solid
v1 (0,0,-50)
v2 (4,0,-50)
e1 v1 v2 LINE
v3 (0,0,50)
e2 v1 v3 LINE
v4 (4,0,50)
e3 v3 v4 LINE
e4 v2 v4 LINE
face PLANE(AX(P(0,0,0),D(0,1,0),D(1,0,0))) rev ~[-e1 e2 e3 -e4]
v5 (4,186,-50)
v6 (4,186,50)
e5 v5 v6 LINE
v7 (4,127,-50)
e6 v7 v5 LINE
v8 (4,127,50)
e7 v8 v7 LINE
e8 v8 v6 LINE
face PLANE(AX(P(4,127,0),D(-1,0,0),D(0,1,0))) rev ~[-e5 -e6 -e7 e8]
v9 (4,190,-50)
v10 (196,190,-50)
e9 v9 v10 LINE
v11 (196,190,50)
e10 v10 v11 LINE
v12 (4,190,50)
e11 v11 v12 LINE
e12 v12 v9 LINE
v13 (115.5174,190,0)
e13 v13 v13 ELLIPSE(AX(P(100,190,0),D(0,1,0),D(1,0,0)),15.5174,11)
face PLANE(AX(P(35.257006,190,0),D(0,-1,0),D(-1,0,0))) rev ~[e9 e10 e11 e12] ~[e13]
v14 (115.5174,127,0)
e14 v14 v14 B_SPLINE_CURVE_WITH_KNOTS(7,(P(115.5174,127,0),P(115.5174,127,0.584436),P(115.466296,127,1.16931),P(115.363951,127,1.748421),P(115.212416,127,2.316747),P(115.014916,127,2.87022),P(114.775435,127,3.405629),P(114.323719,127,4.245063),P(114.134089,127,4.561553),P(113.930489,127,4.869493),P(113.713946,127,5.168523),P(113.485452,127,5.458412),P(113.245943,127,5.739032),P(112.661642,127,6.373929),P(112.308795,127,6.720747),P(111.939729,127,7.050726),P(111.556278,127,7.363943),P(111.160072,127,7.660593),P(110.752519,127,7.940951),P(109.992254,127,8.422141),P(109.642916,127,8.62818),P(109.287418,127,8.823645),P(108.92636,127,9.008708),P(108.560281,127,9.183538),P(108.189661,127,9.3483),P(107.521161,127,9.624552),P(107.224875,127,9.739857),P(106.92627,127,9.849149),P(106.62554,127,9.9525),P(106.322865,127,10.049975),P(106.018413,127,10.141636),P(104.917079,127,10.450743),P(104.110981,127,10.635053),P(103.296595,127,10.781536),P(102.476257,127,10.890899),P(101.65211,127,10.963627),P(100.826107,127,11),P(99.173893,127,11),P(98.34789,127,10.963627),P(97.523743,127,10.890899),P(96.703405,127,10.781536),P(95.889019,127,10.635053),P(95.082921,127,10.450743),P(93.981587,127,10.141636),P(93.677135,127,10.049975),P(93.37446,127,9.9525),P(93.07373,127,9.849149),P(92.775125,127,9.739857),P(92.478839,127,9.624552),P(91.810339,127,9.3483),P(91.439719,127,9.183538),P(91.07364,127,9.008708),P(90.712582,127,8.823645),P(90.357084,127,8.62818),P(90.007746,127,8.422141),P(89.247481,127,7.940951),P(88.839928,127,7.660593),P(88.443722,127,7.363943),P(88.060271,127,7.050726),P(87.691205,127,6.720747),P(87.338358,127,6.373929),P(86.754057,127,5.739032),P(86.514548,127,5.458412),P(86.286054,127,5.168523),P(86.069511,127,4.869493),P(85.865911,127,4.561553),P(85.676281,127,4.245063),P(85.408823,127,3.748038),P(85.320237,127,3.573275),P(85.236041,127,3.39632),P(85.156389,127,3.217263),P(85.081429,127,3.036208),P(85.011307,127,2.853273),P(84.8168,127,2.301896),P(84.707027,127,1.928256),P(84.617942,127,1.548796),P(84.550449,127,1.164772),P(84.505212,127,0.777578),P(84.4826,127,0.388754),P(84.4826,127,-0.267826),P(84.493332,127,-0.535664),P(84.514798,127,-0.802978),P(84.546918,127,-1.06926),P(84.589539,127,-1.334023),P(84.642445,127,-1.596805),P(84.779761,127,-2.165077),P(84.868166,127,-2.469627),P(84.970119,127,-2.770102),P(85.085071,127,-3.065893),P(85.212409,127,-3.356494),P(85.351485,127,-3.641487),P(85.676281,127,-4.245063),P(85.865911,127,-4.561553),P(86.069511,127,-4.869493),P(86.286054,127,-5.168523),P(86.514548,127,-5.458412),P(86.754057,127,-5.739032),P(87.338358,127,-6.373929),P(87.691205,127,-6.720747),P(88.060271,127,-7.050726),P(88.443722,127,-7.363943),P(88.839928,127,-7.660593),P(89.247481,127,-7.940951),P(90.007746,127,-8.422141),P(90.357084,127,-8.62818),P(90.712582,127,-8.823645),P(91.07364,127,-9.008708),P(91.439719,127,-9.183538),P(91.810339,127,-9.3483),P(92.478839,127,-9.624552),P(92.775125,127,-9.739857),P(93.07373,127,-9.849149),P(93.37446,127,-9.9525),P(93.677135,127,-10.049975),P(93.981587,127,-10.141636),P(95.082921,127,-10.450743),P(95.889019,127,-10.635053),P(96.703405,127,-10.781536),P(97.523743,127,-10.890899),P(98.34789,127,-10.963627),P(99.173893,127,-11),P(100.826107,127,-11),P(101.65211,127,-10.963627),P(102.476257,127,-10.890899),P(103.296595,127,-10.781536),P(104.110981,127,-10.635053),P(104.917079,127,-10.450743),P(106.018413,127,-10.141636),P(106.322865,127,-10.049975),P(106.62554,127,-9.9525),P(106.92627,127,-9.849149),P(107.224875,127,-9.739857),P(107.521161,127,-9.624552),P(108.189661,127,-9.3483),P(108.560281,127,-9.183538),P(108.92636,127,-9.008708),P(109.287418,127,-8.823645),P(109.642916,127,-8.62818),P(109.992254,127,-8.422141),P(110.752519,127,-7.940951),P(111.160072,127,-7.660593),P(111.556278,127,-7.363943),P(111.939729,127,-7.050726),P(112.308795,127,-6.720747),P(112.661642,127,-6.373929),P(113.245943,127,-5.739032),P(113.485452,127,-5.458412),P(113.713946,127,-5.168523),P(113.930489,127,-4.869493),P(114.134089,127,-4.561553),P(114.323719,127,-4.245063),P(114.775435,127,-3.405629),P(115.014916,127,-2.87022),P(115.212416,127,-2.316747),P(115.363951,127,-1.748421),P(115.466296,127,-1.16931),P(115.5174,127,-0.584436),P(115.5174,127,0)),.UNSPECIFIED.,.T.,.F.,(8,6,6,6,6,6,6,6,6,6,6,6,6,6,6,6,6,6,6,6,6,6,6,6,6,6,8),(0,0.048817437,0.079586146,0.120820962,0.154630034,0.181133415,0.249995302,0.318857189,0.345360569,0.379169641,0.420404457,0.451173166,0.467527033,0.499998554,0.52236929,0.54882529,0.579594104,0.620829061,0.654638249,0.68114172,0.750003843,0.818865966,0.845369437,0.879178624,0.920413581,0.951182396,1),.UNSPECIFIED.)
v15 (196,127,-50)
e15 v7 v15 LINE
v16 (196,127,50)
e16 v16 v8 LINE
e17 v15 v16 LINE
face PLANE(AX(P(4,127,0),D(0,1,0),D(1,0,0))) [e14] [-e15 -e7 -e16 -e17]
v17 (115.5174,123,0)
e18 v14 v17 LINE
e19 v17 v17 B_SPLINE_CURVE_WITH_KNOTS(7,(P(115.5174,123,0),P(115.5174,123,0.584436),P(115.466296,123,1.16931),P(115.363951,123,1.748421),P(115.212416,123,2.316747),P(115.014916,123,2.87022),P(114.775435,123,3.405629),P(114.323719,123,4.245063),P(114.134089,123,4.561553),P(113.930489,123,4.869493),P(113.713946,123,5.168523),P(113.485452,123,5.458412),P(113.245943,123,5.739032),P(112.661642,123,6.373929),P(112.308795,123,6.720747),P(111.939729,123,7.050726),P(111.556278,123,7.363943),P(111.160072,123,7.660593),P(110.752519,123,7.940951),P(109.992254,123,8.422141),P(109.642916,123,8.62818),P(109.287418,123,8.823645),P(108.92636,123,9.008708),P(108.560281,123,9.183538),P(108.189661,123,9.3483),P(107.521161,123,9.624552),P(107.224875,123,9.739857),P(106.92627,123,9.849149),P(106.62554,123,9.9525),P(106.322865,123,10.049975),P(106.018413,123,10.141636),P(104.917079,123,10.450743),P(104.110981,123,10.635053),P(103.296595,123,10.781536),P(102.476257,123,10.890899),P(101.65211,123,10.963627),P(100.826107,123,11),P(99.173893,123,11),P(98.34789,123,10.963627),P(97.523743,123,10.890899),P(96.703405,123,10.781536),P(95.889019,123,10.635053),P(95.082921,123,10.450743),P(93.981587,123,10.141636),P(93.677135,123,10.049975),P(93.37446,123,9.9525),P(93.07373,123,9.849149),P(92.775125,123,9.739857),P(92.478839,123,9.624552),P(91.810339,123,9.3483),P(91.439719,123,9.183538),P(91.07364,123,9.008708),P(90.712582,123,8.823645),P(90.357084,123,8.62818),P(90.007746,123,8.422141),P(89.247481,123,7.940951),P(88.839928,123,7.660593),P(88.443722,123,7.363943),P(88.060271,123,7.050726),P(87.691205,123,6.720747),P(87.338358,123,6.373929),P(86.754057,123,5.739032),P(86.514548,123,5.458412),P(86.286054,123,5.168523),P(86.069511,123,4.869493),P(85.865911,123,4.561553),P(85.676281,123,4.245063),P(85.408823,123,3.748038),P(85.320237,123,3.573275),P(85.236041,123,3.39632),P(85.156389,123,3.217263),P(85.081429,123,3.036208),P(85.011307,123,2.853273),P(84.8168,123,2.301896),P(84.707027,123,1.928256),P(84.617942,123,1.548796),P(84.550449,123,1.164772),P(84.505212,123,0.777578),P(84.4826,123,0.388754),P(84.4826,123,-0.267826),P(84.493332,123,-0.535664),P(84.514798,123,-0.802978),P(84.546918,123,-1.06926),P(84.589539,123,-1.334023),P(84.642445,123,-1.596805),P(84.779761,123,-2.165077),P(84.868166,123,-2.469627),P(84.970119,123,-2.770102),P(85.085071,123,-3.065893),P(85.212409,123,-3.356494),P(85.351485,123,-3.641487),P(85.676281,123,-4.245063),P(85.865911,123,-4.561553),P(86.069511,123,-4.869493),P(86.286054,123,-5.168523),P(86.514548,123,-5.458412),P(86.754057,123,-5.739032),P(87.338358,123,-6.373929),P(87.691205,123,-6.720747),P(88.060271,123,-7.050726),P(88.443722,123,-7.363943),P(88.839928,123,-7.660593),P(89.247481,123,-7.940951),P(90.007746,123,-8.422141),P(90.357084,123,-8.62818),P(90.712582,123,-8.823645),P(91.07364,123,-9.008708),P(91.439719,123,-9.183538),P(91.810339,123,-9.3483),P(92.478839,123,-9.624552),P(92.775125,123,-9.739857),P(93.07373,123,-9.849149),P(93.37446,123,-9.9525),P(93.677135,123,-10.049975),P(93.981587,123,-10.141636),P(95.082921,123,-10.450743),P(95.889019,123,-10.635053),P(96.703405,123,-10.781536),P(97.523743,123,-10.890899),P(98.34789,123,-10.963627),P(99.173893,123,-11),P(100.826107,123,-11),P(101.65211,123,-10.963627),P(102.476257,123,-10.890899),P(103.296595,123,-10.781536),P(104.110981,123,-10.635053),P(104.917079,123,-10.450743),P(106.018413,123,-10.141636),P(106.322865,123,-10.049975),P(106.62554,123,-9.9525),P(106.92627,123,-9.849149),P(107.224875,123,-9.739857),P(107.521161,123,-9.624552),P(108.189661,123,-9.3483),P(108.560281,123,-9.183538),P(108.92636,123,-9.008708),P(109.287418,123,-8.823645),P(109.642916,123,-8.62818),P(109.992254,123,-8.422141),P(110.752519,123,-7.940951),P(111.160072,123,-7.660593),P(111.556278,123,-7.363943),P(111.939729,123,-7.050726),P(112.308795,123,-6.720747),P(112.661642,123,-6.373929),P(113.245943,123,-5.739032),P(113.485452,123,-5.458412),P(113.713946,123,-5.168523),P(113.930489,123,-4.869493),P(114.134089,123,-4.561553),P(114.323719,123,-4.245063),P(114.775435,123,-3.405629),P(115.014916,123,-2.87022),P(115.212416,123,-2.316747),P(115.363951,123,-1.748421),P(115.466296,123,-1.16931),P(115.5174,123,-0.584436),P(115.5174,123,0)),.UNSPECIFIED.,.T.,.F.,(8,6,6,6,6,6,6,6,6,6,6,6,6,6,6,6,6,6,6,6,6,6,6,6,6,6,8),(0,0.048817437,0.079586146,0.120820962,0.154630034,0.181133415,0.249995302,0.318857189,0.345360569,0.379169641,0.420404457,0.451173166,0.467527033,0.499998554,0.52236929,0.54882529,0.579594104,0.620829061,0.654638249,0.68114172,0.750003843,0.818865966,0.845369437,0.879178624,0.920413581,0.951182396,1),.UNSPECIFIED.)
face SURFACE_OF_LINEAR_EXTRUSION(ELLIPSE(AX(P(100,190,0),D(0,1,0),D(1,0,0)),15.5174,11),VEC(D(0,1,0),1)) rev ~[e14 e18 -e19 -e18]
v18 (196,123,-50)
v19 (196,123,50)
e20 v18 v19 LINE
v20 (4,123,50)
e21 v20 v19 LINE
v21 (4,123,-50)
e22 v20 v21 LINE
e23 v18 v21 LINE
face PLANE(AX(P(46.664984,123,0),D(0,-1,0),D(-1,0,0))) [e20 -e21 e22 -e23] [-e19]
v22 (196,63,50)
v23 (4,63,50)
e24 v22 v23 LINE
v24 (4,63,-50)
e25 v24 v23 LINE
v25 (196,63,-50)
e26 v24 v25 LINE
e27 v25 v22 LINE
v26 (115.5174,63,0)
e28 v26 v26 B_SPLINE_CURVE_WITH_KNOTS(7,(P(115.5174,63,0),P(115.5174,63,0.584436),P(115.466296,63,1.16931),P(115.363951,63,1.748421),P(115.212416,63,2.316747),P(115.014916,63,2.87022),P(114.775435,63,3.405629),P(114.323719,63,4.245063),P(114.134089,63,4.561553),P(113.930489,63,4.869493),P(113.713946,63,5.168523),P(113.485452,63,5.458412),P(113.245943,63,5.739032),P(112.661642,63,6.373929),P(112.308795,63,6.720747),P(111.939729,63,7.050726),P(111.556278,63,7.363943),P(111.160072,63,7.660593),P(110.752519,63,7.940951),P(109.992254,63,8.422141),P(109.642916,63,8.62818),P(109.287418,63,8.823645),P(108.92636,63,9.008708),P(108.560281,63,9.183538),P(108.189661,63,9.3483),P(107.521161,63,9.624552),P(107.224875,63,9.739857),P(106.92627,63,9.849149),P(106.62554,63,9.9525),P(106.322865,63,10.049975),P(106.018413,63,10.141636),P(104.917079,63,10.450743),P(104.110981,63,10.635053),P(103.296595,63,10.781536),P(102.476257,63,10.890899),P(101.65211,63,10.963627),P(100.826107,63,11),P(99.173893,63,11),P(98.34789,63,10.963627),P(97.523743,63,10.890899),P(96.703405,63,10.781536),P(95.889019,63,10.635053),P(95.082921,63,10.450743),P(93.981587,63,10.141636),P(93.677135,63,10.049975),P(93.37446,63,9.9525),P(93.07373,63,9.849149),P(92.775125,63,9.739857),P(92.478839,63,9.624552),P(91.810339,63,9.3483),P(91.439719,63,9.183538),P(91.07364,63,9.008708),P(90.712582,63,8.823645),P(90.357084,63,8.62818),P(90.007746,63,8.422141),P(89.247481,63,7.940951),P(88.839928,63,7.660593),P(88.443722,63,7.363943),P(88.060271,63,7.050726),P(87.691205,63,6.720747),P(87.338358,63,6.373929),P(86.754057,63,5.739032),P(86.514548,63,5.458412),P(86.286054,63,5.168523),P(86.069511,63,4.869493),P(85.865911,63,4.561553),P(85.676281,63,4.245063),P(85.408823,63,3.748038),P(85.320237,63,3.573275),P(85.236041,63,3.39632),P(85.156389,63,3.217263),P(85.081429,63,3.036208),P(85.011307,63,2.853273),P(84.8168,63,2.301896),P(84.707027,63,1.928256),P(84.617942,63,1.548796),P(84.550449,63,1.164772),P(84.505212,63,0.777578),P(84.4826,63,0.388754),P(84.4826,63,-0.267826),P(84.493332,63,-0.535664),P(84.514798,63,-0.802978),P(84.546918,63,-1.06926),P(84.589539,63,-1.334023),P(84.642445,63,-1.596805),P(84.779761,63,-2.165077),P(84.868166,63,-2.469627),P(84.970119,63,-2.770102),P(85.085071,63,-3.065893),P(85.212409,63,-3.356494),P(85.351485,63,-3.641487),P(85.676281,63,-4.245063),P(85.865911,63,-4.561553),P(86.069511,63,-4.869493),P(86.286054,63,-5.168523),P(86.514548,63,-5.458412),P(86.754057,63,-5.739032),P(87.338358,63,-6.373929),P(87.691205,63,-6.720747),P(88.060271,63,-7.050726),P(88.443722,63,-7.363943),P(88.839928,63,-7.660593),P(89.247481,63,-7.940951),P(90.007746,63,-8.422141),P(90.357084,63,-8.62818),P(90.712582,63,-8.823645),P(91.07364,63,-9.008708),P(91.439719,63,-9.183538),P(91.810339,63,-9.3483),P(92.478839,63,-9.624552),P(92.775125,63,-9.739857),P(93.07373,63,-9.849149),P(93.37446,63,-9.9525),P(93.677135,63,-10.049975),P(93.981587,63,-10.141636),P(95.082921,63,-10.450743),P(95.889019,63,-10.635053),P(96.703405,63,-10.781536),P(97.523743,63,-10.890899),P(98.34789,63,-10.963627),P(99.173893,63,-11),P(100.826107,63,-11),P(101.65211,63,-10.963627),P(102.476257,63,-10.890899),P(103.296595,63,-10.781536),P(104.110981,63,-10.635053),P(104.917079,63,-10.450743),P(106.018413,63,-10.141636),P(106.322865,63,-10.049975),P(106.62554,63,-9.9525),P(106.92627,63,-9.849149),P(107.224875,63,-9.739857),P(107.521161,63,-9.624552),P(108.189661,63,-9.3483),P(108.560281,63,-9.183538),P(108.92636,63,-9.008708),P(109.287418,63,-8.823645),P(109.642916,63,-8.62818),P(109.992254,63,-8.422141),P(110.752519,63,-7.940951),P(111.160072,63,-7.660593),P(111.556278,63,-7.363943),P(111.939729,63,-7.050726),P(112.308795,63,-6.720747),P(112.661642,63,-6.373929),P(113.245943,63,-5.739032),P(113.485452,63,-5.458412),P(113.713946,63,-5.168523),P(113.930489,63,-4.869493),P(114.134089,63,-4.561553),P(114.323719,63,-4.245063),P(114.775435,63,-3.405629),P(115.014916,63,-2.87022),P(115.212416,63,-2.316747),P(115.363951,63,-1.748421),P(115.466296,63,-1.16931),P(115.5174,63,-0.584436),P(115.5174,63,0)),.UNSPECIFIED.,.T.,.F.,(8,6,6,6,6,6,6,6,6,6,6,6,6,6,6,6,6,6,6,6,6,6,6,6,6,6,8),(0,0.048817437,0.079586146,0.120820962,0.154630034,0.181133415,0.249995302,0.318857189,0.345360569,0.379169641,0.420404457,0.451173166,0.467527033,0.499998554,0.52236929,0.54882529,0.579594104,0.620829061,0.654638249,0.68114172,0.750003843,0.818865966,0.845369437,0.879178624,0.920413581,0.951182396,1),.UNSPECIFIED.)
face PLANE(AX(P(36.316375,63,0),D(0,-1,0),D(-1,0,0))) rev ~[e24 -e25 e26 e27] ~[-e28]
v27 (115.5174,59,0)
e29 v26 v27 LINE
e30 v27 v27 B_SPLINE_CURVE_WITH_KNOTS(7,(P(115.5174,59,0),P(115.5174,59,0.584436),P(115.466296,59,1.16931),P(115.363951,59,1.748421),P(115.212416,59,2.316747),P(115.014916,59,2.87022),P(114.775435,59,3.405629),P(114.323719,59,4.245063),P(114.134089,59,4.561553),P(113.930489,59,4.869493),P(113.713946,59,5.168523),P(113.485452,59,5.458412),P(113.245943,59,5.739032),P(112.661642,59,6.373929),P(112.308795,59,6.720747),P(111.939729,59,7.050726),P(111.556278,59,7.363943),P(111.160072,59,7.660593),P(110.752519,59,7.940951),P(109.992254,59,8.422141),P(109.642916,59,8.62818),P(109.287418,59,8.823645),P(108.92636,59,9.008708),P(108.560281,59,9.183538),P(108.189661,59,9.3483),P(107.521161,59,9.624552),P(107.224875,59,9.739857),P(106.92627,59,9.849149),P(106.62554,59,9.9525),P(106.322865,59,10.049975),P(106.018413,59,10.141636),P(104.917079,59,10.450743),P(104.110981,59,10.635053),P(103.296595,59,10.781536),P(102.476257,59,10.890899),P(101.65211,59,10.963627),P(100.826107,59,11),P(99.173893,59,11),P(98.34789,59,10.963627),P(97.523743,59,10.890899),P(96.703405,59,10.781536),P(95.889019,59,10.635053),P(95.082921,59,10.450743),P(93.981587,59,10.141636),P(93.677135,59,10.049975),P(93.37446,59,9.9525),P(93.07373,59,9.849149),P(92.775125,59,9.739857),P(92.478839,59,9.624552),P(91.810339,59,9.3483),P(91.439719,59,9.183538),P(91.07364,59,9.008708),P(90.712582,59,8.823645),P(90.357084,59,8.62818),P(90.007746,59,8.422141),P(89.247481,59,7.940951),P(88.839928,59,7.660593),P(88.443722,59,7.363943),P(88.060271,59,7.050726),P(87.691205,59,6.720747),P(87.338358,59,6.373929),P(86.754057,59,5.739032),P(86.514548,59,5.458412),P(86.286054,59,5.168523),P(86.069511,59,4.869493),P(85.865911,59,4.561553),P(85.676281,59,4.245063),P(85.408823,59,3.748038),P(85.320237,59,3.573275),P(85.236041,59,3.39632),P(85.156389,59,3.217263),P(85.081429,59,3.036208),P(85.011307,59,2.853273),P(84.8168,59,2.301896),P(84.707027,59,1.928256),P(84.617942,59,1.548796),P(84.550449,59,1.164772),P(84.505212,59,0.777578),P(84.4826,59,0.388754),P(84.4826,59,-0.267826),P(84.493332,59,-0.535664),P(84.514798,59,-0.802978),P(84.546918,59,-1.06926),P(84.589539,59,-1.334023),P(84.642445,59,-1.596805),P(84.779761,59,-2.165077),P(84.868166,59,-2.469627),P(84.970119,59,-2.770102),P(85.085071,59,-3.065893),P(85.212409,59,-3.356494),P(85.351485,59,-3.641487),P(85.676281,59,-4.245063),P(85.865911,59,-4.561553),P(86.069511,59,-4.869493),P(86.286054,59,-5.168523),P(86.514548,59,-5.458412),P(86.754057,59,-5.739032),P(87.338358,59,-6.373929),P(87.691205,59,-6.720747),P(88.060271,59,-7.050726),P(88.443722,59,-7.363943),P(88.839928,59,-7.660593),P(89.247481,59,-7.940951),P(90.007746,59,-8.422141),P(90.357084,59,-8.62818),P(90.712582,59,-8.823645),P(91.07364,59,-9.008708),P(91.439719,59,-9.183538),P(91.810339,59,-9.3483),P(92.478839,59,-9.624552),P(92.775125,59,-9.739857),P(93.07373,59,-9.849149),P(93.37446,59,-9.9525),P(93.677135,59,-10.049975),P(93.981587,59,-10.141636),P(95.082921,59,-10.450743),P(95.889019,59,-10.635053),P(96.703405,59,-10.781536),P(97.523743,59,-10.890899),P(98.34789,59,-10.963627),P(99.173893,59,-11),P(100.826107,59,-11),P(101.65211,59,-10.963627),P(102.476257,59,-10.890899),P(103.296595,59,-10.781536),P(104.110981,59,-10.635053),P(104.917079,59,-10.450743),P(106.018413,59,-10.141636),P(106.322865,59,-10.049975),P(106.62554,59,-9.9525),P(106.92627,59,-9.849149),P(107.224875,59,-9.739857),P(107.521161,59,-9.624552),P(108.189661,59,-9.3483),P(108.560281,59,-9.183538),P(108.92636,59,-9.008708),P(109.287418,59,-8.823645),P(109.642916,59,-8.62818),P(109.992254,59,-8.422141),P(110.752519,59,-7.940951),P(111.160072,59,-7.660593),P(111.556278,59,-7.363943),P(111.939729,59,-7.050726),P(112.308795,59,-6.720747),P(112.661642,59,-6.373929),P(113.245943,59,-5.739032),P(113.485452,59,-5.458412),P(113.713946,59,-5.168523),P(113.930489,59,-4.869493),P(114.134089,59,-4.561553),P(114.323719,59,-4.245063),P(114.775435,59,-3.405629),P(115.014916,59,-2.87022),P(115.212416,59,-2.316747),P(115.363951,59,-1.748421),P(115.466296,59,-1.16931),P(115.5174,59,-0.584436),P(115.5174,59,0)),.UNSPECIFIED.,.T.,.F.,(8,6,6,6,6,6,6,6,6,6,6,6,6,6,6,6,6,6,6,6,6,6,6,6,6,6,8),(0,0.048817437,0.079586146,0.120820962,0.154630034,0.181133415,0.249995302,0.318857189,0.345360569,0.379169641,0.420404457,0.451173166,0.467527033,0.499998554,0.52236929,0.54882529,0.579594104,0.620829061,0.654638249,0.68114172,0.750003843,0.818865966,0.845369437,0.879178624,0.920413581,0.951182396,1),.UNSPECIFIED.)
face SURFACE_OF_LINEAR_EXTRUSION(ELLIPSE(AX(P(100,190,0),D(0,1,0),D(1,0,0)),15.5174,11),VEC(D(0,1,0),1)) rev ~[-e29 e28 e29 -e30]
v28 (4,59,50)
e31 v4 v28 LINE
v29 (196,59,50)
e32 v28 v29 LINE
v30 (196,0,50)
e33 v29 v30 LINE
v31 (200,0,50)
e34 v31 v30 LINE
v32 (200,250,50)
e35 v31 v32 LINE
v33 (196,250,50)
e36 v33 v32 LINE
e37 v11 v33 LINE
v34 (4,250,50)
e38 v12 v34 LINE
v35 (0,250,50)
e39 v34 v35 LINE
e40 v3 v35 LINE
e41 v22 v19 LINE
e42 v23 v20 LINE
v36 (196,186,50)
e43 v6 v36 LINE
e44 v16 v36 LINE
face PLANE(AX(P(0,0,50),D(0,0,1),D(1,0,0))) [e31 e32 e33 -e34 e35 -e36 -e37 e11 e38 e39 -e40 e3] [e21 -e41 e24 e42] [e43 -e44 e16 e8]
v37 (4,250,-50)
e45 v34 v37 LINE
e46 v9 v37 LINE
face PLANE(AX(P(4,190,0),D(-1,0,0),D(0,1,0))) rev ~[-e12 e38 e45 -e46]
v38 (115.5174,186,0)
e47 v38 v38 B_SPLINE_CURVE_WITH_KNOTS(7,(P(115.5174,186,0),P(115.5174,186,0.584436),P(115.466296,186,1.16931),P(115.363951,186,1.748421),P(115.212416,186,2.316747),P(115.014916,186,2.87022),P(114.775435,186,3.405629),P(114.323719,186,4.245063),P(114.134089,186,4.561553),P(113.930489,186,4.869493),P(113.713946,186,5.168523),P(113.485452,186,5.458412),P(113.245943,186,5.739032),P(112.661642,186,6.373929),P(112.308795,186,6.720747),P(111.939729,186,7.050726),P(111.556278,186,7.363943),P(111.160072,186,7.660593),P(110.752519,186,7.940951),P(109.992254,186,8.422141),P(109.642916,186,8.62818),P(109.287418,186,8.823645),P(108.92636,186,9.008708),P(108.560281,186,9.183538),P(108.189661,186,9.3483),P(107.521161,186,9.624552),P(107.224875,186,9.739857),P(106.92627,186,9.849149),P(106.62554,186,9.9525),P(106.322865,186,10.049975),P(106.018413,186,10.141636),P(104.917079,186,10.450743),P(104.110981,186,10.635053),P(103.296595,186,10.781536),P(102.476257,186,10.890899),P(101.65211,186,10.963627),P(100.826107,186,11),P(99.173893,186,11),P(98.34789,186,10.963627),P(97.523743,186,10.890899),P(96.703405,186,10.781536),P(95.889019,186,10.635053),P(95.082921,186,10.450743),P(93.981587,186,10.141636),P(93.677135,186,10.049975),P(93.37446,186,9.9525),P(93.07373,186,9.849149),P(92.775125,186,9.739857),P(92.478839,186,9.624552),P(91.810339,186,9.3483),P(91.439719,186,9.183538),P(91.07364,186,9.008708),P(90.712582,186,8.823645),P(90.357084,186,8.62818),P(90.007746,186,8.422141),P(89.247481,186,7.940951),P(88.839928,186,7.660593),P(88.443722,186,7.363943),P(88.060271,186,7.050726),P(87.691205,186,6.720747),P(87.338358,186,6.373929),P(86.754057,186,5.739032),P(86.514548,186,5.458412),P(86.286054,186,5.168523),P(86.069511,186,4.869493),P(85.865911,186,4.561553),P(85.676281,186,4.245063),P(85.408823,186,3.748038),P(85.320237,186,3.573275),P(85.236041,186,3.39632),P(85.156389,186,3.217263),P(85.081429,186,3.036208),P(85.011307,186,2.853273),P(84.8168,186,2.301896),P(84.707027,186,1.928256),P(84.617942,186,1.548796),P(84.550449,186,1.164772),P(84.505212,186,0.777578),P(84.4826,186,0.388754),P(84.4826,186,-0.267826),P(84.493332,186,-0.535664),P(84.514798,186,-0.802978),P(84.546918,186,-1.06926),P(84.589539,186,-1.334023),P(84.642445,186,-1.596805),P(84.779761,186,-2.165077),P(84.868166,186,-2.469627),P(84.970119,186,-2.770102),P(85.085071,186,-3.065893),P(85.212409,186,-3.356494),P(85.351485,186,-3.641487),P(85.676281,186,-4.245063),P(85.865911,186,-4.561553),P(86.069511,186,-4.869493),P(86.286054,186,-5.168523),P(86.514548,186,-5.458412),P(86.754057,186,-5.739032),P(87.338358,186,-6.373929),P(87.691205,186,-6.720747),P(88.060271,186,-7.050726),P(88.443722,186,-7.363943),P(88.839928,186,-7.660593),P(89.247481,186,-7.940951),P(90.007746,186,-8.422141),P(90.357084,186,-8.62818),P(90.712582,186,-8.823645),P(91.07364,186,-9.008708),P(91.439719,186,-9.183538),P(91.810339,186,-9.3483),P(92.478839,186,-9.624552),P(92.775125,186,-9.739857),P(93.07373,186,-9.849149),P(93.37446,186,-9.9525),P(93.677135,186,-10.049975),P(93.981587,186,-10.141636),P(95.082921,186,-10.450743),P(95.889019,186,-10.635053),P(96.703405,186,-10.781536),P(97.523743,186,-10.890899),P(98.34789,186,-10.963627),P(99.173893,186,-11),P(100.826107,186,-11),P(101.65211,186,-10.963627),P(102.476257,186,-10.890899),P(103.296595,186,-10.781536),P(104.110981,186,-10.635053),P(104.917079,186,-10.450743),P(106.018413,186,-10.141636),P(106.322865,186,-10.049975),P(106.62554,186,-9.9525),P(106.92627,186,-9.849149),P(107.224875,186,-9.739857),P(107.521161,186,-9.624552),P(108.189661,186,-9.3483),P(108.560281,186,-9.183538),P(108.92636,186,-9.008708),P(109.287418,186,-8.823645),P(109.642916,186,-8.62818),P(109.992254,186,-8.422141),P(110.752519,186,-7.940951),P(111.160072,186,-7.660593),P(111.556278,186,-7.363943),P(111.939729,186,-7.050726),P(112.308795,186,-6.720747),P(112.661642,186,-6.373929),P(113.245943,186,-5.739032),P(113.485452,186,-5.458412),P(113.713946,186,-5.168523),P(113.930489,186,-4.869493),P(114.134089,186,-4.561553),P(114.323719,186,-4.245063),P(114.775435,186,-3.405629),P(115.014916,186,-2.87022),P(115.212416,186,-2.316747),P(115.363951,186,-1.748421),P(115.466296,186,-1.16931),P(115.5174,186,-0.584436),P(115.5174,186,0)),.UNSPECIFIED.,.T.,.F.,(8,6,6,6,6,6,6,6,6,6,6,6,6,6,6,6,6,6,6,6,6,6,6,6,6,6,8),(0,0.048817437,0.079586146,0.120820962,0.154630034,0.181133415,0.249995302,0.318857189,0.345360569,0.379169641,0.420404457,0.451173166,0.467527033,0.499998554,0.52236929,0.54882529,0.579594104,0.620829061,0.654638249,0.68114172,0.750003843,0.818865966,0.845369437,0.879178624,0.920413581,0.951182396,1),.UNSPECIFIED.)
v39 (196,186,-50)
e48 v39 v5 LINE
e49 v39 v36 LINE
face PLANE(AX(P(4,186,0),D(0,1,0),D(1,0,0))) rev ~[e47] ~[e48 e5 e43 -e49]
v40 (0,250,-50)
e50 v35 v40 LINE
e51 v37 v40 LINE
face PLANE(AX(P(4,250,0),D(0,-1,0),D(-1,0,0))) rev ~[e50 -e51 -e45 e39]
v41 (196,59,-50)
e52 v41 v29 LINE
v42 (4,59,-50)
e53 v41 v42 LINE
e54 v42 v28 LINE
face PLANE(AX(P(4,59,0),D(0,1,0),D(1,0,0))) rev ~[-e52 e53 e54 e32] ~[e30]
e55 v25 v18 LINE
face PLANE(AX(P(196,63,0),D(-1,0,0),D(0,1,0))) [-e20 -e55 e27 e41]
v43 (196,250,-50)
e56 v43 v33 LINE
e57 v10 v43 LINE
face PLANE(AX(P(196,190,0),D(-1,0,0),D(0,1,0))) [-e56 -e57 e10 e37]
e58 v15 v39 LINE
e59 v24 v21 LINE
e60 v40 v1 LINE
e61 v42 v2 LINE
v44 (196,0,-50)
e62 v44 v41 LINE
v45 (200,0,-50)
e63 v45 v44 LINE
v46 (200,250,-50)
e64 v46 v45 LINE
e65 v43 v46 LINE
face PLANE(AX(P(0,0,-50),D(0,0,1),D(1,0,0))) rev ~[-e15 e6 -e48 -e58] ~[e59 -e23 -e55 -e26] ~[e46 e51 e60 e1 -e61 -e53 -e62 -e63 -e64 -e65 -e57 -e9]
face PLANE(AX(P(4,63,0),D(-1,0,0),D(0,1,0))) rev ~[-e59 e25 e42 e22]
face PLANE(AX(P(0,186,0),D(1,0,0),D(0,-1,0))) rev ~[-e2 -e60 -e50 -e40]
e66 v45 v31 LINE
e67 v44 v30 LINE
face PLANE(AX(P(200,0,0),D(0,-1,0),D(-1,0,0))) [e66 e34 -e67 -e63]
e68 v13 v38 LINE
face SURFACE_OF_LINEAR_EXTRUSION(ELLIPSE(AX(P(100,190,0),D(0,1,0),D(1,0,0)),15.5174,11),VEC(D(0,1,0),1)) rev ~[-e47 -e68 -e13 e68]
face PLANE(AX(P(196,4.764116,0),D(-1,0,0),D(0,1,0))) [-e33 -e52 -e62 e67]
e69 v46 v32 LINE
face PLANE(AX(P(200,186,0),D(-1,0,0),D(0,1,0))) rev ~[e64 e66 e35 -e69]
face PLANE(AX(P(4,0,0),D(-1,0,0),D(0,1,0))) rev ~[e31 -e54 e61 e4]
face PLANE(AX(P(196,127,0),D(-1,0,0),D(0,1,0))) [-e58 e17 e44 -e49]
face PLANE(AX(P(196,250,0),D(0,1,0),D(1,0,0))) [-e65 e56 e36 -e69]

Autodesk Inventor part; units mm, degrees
ref_plane "YZ Plane" through (0, 0, 0) normal (1, 0, 0) x (0, 1, 0)
ref_plane "XZ Plane" through (0, 0, 0) normal (0, 1, 0) x (-1, 0, 0)
ref_plane "XY Plane" through (0, 0, 0) normal (0, 0, 1) x (1, 0, 0)
sketch "Эскиз1" plane through (0, 0, 0) normal (0, 0, 1) x (1, 0, 0)
  line L0 (0, 0) -> (200, 0) construction
  line L1 (10.5713, 250) -> (75.6527, 250) construction
  line L2 (98, 0) -> (102, 0) construction
  line L3 (102, 0) -> (102, 250) construction
  line L4 (98, 250) -> (102, 250) construction
  line L5 (98, 0) -> (98, 250) construction
  line L6 (98, 250) -> (102, 0) construction
  line L7 (0, 127) -> (200, 127)
  line L8 (200, 127) -> (200, 123)
  line L9 (200, 123) -> (0, 123)
  line L10 (0, 123) -> (0, 127)
  line L11 (0, 127) -> (200, 123) construction
  line L12 (200, 127) -> (0, 123) construction
  line L13 (0, 186) -> (200, 186)
  line L14 (200, 186) -> (200, 190)
  line L15 (200, 190) -> (0, 190)
  line L16 (0, 190) -> (0, 186)
  line L17 (0, 0) -> (4, 0)
  line L18 (4, 0) -> (4, 250)
  line L19 (4, 250) -> (0, 250)
  line L20 (0, 250) -> (0, 0)
  line L21 (200, 0) -> (196, 0)
  line L22 (196, 0) -> (196, 250)
  line L23 (196, 250) -> (200, 250)
  line L24 (200, 250) -> (200, 0)
  line L25 (0, 59) -> (200, 59)
  line L26 (200, 59) -> (200, 63)
  line L27 (200, 63) -> (0, 63)
  line L28 (0, 63) -> (0, 59)
  arc A0 (193.3786, 241.9343) -> (189.4287, 250) centre (189.4287, 245) ccw projected
  arc A1 (10.5713, 250) -> (6.6214, 241.9343) centre (10.5713, 245) ccw projected
  arc A2 (0, 0) -> (6.6214, 241.9343) centre (-144.0414, 125) ccw projected
  arc A3 (193.3786, 241.9343) -> (200, 0) centre (344.0414, 125) ccw projected
  arc A4 (78.2507, 248.5) -> (75.6527, 250) centre (75.6527, 247) ccw projected
  line L29 (124.3473, 250) -> (189.4287, 250) projected
  arc A5 (124.3473, 250) -> (121.7493, 248.5) centre (124.3473, 247) ccw projected
  line L30 (121.7493, 248.5) -> (112.751, 232.9146) projected
  arc A6 (108.4209, 230.4146) -> (112.751, 232.9146) centre (108.4209, 235.4146) ccw projected
  line L31 (108.4209, 230.4146) -> (91.5791, 230.4146) projected
  arc A7 (87.249, 232.9146) -> (91.5791, 230.4146) centre (91.5791, 235.4146) ccw projected
  line L32 (87.249, 232.9146) -> (78.2507, 248.5) projected
  point P0 (100, 125)
  point P1 (4, 186)
  point P2 (196, 186)
  point P3 (196, 127)
  point P4 (4, 127)
  point P5 (0, 186)
  point P6 (4, 123)
  point P7 (196, 123)
  point P8 (196, 190)
  point P9 (4, 190)
  point P10 (0, 190)
  point P11 (196, 63)
  point P12 (4, 63)
  point P13 (4, 59)
  point P14 (196, 59)
  dimension "d0" = 200
  dimension "d1" = 4
  dimension "d2" = 200
  dimension "d3" = 4
  dimension "d4" = 4
  dimension "d5" = 250
  dimension "d6" = 4
  dimension "d7" = 250
  dimension "d10" = 60
  dimension "d11" = 200
  dimension "d12" = 4
  dimension "d13" = 60
extrude "Выдавливание1" add sketch "Эскиз1" along normal mid plane 100 contours L20 L13 L18 L7 | L7 L18 L9 L10 | L7 A2 L9 L18 | L9 L18 L27 L20 | L16 L15 L18 L13 | L7 A3 L9 A2 | L18 L15 A2 L13 | L27 L18 L25 L20 | L20 L19 L18 L15 | L7 L22 L9 A3 | A2 L15 A3 L13 | L27 A2 L25 L18 | L25 L18 A2 L20 | L22 L13 L24 L7 | L7 L8 L9 L22 | A3 L15 L22 L13 | L27 A3 L25 A2 | A2 L18 L17 | L9 L24 L27 L22 | L22 L15 L14 L13 | L27 L22 L25 A3 | L27 L24 L25 L22 | L22 L23 L24 L15 | L25 L24 A3 L22 | A3 L21 L22
sketch "Эскиз2" plane through (4, 190, 50) normal (0, 1, 0) x (1, 0, 0)
  line L0 (196, 100) -> (196, 0) projected
  line L1 (-4, 0) -> (196, 100) construction
  ellipse E0 centre (96, 50) end of major axis (111.5174, 50) minor radius 11
  point P0 (-4, 50)
  dimension "d16" = 11
extrude "Выдавливание2" cut sketch "Эскиз2" against normal blind 300
properties part number "ребра для шкафа"
